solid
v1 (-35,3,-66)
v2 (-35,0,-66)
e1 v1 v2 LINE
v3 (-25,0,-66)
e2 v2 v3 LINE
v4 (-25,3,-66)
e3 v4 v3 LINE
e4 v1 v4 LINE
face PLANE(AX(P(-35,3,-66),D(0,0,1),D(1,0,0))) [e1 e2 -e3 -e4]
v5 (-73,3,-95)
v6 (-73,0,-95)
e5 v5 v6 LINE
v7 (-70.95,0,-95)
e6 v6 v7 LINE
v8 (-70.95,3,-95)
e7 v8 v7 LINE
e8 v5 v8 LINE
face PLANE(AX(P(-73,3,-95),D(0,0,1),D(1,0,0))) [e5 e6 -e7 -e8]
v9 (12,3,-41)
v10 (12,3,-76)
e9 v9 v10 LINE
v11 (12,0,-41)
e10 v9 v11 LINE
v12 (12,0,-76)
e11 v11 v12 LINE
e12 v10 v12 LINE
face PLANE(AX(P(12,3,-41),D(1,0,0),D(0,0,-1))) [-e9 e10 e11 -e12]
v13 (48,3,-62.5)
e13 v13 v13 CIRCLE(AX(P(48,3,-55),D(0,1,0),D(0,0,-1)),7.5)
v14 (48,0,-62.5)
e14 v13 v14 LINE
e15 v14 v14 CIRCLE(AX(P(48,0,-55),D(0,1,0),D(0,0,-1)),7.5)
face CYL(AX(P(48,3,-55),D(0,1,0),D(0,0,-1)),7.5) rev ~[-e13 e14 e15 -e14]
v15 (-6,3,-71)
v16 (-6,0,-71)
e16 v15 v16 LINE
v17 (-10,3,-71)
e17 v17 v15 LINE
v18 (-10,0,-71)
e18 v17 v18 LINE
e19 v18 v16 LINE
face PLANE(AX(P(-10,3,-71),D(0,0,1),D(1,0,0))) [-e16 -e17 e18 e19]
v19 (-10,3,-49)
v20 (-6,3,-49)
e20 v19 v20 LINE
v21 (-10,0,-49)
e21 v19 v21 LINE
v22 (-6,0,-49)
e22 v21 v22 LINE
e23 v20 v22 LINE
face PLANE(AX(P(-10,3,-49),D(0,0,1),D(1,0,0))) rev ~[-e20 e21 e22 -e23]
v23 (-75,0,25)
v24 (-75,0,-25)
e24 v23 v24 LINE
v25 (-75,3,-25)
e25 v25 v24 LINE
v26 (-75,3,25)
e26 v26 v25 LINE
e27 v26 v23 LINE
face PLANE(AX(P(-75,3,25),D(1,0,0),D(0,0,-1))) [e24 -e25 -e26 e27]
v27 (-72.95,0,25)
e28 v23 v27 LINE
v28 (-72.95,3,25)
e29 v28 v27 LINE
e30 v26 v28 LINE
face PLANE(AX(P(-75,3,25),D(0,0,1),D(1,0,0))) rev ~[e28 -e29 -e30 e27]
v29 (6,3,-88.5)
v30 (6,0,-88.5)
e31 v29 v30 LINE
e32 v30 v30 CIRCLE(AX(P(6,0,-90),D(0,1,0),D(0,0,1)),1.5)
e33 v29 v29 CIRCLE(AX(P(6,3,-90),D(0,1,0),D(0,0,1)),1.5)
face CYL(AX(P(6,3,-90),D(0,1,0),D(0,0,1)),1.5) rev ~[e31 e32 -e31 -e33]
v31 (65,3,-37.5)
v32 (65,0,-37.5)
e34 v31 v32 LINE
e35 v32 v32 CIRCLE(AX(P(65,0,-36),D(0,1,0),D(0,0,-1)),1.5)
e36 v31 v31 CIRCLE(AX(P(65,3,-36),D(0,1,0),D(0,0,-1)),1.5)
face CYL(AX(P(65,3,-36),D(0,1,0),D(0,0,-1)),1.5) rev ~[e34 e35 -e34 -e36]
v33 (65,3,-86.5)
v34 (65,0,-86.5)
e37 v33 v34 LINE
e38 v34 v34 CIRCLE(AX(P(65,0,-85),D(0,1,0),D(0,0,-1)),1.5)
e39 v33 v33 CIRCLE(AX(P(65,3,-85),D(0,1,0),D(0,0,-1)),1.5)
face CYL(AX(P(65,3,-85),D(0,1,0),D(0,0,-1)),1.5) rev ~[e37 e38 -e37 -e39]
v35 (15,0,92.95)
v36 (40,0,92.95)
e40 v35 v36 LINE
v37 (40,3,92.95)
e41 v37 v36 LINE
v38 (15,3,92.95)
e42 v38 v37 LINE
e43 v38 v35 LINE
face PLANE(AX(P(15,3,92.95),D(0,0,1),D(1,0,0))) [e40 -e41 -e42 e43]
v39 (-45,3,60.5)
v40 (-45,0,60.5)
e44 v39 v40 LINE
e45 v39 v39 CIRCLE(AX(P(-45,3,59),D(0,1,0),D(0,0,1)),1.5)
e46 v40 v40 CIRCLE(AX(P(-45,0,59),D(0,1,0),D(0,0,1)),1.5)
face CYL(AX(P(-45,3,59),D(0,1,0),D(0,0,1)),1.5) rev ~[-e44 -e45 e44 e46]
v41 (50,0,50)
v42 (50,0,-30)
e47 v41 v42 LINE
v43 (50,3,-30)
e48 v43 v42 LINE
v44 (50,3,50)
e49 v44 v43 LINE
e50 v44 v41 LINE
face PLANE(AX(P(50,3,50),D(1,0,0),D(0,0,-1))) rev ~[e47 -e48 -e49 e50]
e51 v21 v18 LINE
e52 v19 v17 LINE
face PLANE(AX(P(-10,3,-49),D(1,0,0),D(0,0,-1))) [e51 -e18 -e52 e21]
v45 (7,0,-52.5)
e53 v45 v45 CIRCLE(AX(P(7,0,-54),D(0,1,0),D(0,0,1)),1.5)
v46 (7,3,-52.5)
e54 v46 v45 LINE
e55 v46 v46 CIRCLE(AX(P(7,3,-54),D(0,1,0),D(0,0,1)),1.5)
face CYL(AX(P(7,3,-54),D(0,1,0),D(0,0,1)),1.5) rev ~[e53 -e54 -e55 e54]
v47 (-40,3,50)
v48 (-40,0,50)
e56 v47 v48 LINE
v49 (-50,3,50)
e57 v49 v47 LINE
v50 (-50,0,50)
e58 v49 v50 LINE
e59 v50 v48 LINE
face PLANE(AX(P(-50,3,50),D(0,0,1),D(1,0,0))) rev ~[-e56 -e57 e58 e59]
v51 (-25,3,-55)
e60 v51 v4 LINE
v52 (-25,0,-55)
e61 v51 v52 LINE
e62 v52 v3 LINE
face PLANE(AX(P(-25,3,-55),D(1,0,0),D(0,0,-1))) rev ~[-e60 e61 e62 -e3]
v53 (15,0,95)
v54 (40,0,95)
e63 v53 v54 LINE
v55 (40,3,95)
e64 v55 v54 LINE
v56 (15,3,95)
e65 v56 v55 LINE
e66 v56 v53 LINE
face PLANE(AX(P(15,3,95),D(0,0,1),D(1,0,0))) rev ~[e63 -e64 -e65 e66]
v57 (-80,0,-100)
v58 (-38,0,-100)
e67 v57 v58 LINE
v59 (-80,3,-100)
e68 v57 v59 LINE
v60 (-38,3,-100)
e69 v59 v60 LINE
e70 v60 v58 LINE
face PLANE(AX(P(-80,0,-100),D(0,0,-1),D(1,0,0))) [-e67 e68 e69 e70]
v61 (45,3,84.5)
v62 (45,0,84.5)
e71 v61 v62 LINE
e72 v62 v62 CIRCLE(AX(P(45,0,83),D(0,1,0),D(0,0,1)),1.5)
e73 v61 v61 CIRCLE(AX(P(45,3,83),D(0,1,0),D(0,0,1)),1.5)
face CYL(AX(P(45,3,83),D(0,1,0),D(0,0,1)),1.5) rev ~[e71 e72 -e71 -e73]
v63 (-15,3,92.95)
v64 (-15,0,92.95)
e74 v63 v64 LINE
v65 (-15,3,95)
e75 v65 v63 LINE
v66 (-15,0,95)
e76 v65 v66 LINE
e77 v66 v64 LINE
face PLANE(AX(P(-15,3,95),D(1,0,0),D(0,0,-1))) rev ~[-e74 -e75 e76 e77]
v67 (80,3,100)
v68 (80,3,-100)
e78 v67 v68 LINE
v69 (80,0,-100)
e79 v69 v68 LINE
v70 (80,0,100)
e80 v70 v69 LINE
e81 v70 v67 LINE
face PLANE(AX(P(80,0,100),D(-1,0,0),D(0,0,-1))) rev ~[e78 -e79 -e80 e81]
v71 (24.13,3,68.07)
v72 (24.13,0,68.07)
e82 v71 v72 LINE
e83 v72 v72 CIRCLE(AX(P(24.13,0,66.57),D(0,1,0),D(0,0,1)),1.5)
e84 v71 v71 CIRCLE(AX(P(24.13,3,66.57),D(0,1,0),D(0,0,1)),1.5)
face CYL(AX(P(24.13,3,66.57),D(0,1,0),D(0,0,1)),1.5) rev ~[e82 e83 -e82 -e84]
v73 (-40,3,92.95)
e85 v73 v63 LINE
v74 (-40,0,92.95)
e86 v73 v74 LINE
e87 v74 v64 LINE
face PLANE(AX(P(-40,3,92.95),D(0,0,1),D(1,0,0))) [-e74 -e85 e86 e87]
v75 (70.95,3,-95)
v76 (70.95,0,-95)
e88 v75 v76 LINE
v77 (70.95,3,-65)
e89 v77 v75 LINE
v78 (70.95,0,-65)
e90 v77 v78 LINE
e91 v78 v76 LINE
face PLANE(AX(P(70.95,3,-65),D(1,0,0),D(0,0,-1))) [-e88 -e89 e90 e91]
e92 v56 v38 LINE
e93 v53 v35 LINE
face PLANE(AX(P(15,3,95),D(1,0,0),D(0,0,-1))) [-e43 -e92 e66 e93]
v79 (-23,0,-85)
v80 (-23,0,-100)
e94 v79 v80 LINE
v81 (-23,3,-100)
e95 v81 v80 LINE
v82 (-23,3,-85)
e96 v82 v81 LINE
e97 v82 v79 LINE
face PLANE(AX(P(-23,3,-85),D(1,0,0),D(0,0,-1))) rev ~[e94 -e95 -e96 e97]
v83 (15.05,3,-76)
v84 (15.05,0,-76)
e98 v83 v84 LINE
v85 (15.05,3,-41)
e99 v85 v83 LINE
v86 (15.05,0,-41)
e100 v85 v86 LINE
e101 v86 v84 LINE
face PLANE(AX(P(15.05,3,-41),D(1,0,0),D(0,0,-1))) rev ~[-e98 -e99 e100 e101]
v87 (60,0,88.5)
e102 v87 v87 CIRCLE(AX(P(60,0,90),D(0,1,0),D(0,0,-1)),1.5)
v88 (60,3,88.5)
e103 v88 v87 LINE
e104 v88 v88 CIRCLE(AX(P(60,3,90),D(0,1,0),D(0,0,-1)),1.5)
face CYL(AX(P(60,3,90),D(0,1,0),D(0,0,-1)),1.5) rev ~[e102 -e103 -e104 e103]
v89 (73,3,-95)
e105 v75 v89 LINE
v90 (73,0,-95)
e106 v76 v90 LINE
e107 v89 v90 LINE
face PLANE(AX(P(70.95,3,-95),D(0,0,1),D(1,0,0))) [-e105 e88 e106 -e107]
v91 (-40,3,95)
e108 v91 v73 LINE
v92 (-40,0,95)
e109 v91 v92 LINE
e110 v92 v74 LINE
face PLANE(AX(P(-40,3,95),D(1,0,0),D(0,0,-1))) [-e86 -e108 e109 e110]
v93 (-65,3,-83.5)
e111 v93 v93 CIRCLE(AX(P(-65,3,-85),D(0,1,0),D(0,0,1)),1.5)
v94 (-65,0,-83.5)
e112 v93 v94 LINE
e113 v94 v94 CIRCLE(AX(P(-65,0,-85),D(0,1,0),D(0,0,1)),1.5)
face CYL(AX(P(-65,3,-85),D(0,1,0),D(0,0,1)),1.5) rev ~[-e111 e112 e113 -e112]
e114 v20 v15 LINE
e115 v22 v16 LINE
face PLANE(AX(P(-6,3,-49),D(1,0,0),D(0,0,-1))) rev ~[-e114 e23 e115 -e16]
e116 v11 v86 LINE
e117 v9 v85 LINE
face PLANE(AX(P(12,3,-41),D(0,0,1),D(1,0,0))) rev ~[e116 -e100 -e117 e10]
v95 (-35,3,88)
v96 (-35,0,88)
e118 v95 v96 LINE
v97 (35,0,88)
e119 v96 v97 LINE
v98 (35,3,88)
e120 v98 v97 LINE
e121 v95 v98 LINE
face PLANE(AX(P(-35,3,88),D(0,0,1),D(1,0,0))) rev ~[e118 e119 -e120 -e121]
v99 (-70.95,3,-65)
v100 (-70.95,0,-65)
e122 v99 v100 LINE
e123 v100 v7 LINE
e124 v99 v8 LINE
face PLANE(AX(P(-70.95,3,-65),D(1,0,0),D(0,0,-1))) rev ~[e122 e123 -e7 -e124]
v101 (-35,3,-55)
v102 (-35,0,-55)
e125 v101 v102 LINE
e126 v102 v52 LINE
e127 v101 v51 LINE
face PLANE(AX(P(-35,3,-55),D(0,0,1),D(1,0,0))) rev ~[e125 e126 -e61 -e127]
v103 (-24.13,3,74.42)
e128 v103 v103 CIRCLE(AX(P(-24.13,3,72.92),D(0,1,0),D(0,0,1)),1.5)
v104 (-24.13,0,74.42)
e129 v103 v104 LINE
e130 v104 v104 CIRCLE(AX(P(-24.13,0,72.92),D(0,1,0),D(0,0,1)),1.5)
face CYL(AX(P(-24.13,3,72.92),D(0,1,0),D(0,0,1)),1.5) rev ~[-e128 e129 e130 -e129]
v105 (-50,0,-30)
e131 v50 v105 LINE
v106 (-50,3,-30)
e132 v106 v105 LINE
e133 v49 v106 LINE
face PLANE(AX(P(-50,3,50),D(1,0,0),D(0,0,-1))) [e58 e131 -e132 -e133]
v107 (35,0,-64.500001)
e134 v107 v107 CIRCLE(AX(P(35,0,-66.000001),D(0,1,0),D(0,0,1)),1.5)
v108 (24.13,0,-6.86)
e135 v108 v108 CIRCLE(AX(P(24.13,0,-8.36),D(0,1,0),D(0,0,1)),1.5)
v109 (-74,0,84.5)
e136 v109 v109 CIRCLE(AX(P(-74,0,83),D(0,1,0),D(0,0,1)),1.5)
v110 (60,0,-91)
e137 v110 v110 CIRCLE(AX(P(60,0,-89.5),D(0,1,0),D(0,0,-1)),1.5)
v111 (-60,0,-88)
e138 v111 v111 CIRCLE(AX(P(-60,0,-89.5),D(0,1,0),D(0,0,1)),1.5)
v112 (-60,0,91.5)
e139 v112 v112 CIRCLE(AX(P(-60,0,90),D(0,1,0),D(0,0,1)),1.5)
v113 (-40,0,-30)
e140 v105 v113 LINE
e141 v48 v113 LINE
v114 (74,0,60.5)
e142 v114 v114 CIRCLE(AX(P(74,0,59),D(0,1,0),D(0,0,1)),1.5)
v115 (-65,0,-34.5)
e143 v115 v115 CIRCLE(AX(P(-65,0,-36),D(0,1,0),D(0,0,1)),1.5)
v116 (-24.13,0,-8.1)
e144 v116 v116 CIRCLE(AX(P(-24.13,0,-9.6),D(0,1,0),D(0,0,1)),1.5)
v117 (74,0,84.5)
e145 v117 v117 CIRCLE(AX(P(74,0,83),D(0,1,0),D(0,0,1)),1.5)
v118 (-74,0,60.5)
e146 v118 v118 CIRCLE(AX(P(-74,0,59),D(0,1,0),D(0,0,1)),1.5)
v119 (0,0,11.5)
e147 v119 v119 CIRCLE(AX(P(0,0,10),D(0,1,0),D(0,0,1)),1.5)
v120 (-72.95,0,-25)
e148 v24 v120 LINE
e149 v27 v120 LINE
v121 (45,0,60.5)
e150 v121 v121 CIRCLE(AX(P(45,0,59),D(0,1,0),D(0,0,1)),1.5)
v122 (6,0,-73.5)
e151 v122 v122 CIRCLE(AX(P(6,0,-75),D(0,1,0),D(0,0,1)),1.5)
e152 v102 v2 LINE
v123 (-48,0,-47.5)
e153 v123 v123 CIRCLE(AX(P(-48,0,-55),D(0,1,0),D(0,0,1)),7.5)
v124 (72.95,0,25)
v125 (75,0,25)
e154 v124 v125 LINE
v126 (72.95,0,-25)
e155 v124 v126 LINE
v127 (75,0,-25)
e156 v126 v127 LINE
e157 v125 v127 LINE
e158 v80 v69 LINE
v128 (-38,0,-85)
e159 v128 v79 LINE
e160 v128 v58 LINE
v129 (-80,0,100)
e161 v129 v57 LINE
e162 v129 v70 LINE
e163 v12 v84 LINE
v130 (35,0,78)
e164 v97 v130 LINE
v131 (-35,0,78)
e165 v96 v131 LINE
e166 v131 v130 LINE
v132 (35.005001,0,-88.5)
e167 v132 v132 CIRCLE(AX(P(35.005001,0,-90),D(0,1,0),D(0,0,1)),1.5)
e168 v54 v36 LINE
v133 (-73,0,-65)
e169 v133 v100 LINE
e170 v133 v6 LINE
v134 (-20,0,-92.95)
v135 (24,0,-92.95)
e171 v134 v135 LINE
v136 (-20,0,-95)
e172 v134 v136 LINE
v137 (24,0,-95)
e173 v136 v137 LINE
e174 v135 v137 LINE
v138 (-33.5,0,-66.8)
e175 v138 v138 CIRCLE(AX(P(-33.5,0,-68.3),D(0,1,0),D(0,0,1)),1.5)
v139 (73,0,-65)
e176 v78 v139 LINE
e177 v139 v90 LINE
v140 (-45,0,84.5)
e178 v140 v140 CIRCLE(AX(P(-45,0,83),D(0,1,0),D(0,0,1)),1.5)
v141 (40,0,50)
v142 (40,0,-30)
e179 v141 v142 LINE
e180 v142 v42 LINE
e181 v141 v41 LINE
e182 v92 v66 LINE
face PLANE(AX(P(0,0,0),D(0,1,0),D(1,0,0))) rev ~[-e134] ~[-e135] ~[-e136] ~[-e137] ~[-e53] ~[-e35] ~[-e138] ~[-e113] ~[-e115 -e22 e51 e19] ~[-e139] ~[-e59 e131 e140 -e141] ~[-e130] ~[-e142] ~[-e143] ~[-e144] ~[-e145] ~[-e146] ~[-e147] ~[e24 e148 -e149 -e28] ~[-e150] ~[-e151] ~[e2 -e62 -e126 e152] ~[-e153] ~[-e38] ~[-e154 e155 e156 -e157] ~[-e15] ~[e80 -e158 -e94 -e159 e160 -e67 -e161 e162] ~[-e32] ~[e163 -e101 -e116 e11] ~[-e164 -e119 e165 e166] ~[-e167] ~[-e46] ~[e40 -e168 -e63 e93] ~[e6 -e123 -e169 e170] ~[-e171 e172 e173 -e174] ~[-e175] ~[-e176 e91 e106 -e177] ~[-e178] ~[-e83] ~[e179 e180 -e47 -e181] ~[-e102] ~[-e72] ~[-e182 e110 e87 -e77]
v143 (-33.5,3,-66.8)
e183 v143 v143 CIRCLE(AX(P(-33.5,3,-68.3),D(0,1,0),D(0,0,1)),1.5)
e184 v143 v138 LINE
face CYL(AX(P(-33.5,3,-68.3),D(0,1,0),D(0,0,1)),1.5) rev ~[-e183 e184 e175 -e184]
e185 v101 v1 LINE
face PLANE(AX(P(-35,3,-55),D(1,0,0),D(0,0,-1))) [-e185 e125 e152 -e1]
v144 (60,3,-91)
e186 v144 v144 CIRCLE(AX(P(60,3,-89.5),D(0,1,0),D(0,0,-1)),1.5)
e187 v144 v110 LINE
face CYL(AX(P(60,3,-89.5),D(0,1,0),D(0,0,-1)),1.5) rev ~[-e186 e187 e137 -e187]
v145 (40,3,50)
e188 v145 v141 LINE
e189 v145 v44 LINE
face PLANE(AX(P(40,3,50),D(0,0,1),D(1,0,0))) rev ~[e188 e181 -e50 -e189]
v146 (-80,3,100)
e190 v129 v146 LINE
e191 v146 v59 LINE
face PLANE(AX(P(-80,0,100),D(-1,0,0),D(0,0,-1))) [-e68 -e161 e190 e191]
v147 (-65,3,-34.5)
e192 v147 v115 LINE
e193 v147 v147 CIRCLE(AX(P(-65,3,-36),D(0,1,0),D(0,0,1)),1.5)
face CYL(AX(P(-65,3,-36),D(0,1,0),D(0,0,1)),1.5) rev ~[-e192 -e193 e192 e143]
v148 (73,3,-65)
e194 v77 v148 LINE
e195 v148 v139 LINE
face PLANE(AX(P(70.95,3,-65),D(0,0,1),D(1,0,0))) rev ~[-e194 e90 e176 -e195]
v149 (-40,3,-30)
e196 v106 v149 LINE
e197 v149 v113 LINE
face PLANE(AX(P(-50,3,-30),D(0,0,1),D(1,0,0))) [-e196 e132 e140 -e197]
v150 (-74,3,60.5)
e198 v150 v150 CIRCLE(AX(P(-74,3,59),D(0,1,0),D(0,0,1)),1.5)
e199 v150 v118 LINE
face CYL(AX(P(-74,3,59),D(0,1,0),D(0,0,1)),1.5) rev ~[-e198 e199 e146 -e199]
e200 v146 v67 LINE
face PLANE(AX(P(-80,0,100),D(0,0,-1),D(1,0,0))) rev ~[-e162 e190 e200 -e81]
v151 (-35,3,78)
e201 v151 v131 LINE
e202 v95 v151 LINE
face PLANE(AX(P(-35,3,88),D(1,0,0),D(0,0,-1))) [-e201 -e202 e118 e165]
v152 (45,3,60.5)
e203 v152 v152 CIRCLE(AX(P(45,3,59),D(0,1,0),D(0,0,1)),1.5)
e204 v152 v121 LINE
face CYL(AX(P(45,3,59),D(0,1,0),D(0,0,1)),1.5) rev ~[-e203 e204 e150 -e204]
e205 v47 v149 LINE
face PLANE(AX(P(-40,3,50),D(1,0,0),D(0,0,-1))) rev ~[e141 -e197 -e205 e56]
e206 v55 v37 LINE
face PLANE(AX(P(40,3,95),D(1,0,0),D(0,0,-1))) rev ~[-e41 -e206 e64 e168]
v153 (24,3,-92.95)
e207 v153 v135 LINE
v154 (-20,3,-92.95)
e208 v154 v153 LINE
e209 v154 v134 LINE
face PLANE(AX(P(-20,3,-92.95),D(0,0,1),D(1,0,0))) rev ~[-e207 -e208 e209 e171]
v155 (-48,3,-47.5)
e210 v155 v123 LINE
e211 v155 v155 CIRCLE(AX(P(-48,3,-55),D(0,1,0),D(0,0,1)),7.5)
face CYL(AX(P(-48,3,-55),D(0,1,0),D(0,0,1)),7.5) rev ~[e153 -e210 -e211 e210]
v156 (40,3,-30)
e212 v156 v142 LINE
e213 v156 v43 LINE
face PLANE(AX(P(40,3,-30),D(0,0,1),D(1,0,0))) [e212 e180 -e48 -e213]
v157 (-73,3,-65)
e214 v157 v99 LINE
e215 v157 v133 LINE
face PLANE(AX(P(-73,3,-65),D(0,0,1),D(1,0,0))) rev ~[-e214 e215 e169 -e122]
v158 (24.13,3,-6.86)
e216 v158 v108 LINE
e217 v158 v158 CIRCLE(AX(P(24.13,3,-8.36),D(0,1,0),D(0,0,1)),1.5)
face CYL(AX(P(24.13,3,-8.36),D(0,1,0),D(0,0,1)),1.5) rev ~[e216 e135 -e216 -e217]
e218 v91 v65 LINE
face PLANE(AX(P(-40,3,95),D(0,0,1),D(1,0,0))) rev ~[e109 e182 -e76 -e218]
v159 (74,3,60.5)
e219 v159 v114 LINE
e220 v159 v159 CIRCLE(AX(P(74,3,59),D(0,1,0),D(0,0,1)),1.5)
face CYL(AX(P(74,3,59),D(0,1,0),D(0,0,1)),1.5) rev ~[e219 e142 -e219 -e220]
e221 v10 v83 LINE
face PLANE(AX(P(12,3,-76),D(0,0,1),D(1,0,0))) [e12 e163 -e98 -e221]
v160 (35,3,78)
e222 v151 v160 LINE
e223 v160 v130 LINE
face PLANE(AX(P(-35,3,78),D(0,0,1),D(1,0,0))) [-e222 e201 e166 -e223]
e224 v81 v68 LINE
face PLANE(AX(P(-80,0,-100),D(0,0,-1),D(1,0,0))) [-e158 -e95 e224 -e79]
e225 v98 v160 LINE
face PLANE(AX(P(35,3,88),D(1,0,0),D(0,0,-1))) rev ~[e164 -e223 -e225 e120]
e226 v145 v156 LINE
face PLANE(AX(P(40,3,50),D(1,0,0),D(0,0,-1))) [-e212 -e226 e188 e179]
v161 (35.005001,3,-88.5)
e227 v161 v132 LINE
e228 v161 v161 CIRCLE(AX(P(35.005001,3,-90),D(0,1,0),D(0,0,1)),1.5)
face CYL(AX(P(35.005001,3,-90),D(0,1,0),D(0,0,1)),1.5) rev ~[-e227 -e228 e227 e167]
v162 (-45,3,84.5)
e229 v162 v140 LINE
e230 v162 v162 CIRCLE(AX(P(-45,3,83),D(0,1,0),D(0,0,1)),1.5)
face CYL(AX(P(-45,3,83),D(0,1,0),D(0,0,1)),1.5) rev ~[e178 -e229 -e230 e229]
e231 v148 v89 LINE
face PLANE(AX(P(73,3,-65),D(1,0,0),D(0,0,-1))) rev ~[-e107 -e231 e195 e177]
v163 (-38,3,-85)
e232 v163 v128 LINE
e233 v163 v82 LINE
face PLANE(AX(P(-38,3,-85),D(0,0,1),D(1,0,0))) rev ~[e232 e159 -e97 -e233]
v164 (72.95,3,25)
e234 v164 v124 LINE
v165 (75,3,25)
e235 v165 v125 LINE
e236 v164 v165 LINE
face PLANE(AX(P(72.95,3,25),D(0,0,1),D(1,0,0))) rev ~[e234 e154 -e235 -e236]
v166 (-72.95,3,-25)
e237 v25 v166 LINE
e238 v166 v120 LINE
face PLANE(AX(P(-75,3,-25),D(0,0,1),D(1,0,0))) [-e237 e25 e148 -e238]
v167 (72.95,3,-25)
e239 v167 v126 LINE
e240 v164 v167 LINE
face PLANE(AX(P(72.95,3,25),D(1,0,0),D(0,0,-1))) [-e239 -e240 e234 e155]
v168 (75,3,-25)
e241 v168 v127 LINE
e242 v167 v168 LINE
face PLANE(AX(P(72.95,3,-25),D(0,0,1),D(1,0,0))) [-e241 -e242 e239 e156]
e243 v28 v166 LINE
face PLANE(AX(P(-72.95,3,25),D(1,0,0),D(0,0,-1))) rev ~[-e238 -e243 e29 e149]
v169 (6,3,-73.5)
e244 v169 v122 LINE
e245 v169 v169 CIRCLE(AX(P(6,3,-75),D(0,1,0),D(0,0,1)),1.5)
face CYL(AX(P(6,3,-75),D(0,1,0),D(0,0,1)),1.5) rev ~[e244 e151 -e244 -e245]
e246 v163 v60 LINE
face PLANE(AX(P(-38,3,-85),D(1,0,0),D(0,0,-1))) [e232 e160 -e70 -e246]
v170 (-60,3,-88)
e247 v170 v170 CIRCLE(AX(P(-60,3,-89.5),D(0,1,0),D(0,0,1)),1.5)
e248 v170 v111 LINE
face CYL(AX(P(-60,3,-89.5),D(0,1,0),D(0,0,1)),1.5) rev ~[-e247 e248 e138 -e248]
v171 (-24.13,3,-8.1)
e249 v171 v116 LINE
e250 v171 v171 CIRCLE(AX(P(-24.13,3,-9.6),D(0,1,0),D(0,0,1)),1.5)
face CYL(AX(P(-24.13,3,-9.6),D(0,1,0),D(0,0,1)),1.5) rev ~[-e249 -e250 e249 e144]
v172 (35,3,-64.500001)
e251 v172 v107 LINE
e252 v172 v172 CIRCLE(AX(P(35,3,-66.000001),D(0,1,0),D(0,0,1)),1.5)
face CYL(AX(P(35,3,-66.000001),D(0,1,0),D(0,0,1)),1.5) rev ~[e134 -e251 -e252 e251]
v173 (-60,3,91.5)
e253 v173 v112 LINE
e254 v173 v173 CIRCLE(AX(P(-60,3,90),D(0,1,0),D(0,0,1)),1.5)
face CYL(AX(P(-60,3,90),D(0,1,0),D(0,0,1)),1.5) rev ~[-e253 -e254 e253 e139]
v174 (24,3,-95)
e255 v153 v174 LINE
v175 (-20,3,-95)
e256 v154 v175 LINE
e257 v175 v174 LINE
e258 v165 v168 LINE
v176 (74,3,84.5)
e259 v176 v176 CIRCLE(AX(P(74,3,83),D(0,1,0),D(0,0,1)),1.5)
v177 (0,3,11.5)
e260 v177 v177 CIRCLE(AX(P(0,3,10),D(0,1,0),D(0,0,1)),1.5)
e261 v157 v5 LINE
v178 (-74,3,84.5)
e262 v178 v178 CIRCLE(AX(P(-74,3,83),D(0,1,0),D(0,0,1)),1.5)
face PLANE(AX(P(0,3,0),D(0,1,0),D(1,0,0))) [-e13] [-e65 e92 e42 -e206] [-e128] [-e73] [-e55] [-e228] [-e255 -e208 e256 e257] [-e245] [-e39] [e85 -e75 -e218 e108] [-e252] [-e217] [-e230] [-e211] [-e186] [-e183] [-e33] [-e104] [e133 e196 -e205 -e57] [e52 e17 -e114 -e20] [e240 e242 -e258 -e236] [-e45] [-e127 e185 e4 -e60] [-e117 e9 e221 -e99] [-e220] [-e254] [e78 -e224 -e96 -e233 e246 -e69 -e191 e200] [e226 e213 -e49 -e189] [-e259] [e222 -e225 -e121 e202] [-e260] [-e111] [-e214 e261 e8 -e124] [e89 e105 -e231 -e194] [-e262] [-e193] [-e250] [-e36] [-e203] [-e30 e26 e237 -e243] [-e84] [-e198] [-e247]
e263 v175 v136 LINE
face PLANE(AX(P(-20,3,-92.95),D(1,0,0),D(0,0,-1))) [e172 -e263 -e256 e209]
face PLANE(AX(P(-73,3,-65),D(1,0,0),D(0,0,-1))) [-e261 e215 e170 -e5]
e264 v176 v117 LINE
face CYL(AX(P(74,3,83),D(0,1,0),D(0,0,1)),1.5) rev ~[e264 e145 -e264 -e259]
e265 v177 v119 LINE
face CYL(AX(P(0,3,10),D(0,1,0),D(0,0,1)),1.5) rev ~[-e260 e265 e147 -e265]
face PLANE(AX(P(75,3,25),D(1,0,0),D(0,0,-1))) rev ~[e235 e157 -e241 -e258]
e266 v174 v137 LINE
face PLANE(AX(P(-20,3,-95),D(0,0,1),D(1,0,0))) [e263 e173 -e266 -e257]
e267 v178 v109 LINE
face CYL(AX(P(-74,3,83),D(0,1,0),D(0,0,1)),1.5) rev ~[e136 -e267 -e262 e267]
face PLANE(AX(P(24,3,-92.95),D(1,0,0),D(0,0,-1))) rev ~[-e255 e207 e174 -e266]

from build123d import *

# Parameters (mm, degrees)
SKETCH1_W           = 160
SKETCH1_H           = 200
BOSS_EXTRUDE1_DEPTH = 3
SKETCH2_R           = 1.5
SKETCH2_W           = 25
SKETCH2_H           = 2.05
SKETCH2_W_2         = 2.05
SKETCH2_H_2         = 50
SKETCH2_H_3         = 30
SKETCH2_W_3         = 15
SKETCH2_H_4         = 15
SKETCH2_W_4         = 44
SKETCH2_W_5         = 4
SKETCH2_H_5         = 22
SKETCH2_W_6         = 3.05
SKETCH2_H_6         = 35
CUT_EXTRUDE1_DEPTH  = 3
SKETCH3_R           = 1.5
CUT_EXTRUDE2_DEPTH  = 129.097619025
SKETCH4_R           = 7.5
SKETCH4_R_2         = 1.5
SKETCH4_W           = 10
SKETCH4_H           = 80
SKETCH4_W_2         = 70
SKETCH4_H_2         = 10
CUT_EXTRUDE3_DEPTH  = 3
SKETCH5_R           = 1.5
CUT_EXTRUDE4_DEPTH  = 10
SKETCH6_R           = 1.5
SKETCH6_W           = 10
SKETCH6_H           = 11
CUT_EXTRUDE5_DEPTH  = 10


with BuildPart() as part:
    # Sketch1 → Boss-Extrude1 (new body)
    with BuildSketch(Plane(origin=(0, 0, 0), x_dir=(1, 0, 0), z_dir=(0, 1, 0))):
        Rectangle(SKETCH1_W, SKETCH1_H)
    extrude(amount=BOSS_EXTRUDE1_DEPTH)

    # Sketch2 → Cut-Extrude1 (cut)
    with BuildSketch(Plane(origin=(0, 3, 0), x_dir=(1, 0, 0), z_dir=(0, 1, 0))):
        with Locations(Location((-60, -90, 0), (0, 0, 270))):
            Circle(SKETCH2_R)
        with Locations(Location((60, -90, 0), (0, 0, 90))):
            Circle(SKETCH2_R)
        with Locations(Location((0, -10, 0), (0, 0, 270))):
            Circle(SKETCH2_R)
        with Locations(Location((-65, 85, 0), (0, 0, 270))):
            Circle(SKETCH2_R)
        with Locations(Location((65, 85, 0), (0, 0, 90))):
            Circle(SKETCH2_R)
        with Locations((27.5, -93.975)):
            Rectangle(SKETCH2_W, SKETCH2_H)
        with Locations((-27.5, -93.975)):
            Rectangle(SKETCH2_W, SKETCH2_H)
        with Locations((73.975, 0)):
            Rectangle(SKETCH2_W_2, SKETCH2_H_2)
        with Locations((-73.975, 0)):
            Rectangle(SKETCH2_W_2, SKETCH2_H_2)
        with Locations((71.975, 80)):
            Rectangle(SKETCH2_W_2, SKETCH2_H_3)
        with Locations((-30.5, 92.5)):
            Rectangle(SKETCH2_W_3, SKETCH2_H_4)
        with Locations((2, 93.975)):
            Rectangle(SKETCH2_W_4, SKETCH2_H)
        with Locations((-71.975, 80)):
            Rectangle(SKETCH2_W_2, SKETCH2_H_3)
        with Locations((-8, 60)):
            Rectangle(SKETCH2_W_5, SKETCH2_H_5)
        with Locations((13.525, 58.5)):
            Rectangle(SKETCH2_W_6, SKETCH2_H_6)
    extrude(amount=-CUT_EXTRUDE1_DEPTH, mode=Mode.SUBTRACT)

    # Sketch3 → Cut-Extrude2 (cut, through all)
    with BuildSketch(Plane(origin=(0, 3, 0), x_dir=(1, 0, 0), z_dir=(0, 1, 0))):
        with Locations(Location((-24.13, 9.6, 0), (0, 0, 270))):
            Circle(SKETCH3_R)
        with Locations(Location((24.13, 8.36, 0), (0, 0, 270))):
            Circle(SKETCH3_R)
        with Locations(Location((-24.13, -72.92, 0), (0, 0, 270))):
            Circle(SKETCH3_R)
        with Locations(Location((24.13, -66.57, 0), (0, 0, 270))):
            Circle(SKETCH3_R)
    extrude(amount=-CUT_EXTRUDE2_DEPTH, mode=Mode.SUBTRACT)

    # Sketch4 → Cut-Extrude3 (cut)
    with BuildSketch(Plane(origin=(0, 3, 0), x_dir=(1, 0, 0), z_dir=(0, 1, 0))):
        with Locations(Location((-48, 55, 0), (0, 0, 270))):
            Circle(SKETCH4_R)
        with Locations(Location((48, 55, 0), (0, 0, 90))):
            Circle(SKETCH4_R)
        with Locations(Location((-60, 89.5, 0), (0, 0, 270))):
            Circle(SKETCH4_R_2)
        with Locations(Location((60, 89.5, 0), (0, 0, 90))):
            Circle(SKETCH4_R_2)
        with Locations(Location((-65, 36, 0), (0, 0, 270))):
            Circle(SKETCH4_R_2)
        with Locations(Location((65, 36, 0), (0, 0, 90))):
            Circle(SKETCH4_R_2)
        with Locations((-45, -10)):
            Rectangle(SKETCH4_W, SKETCH4_H)
        with Locations((45, -10)):
            Rectangle(SKETCH4_W, SKETCH4_H)
        with Locations((0, -83)):
            Rectangle(SKETCH4_W_2, SKETCH4_H_2)
    extrude(amount=-CUT_EXTRUDE3_DEPTH, mode=Mode.SUBTRACT)

    # Sketch5 → Cut-Extrude4 (cut)
    with BuildSketch(Plane(origin=(0, 3, 0), x_dir=(1, 0, 0), z_dir=(0, 1, 0))):
        with Locations(Location((-74, -83, 0), (0, 0, 270))):
            Circle(SKETCH5_R)
        with Locations(Location((-74, -59, 0), (0, 0, 270))):
            Circle(SKETCH5_R)
        with Locations(Location((-45, -83, 0), (0, 0, 270))):
            Circle(SKETCH5_R)
        with Locations(Location((-45, -59, 0), (0, 0, 270))):
            Circle(SKETCH5_R)
        with Locations(Location((45, -83, 0), (0, 0, 270))):
            Circle(SKETCH5_R)
        with Locations(Location((45, -59, 0), (0, 0, 270))):
            Circle(SKETCH5_R)
        with Locations(Location((74, -83, 0), (0, 0, 270))):
            Circle(SKETCH5_R)
        with Locations(Location((74, -59, 0), (0, 0, 270))):
            Circle(SKETCH5_R)
        with Locations(Location((6, 90, 0), (0, 0, 270))):
            Circle(SKETCH5_R)
        with Locations(Location((6, 75, 0), (0, 0, 270))):
            Circle(SKETCH5_R)
        with Locations(Location((35.0050005, 90, 0), (0, 0, 270))):
            Circle(SKETCH5_R)
        with Locations(Location((35, 66.000000521, 0), (0, 0, 270))):
            Circle(SKETCH5_R)
    extrude(amount=-CUT_EXTRUDE4_DEPTH, mode=Mode.SUBTRACT)

    # Sketch6 → Cut-Extrude5 (cut)
    with BuildSketch(Plane(origin=(0, 3, 0), x_dir=(1, 0, 0), z_dir=(0, 1, 0))):
        with Locations(Location((-33.5, 68.3, 0), (0, 0, 270))):
            Circle(SKETCH6_R)
        with Locations(Location((7, 54, 0), (0, 0, 270))):
            Circle(SKETCH6_R)
        with Locations((-30, 60.5)):
            Rectangle(SKETCH6_W, SKETCH6_H)
    extrude(amount=-CUT_EXTRUDE5_DEPTH, mode=Mode.SUBTRACT)


solid = part.part
